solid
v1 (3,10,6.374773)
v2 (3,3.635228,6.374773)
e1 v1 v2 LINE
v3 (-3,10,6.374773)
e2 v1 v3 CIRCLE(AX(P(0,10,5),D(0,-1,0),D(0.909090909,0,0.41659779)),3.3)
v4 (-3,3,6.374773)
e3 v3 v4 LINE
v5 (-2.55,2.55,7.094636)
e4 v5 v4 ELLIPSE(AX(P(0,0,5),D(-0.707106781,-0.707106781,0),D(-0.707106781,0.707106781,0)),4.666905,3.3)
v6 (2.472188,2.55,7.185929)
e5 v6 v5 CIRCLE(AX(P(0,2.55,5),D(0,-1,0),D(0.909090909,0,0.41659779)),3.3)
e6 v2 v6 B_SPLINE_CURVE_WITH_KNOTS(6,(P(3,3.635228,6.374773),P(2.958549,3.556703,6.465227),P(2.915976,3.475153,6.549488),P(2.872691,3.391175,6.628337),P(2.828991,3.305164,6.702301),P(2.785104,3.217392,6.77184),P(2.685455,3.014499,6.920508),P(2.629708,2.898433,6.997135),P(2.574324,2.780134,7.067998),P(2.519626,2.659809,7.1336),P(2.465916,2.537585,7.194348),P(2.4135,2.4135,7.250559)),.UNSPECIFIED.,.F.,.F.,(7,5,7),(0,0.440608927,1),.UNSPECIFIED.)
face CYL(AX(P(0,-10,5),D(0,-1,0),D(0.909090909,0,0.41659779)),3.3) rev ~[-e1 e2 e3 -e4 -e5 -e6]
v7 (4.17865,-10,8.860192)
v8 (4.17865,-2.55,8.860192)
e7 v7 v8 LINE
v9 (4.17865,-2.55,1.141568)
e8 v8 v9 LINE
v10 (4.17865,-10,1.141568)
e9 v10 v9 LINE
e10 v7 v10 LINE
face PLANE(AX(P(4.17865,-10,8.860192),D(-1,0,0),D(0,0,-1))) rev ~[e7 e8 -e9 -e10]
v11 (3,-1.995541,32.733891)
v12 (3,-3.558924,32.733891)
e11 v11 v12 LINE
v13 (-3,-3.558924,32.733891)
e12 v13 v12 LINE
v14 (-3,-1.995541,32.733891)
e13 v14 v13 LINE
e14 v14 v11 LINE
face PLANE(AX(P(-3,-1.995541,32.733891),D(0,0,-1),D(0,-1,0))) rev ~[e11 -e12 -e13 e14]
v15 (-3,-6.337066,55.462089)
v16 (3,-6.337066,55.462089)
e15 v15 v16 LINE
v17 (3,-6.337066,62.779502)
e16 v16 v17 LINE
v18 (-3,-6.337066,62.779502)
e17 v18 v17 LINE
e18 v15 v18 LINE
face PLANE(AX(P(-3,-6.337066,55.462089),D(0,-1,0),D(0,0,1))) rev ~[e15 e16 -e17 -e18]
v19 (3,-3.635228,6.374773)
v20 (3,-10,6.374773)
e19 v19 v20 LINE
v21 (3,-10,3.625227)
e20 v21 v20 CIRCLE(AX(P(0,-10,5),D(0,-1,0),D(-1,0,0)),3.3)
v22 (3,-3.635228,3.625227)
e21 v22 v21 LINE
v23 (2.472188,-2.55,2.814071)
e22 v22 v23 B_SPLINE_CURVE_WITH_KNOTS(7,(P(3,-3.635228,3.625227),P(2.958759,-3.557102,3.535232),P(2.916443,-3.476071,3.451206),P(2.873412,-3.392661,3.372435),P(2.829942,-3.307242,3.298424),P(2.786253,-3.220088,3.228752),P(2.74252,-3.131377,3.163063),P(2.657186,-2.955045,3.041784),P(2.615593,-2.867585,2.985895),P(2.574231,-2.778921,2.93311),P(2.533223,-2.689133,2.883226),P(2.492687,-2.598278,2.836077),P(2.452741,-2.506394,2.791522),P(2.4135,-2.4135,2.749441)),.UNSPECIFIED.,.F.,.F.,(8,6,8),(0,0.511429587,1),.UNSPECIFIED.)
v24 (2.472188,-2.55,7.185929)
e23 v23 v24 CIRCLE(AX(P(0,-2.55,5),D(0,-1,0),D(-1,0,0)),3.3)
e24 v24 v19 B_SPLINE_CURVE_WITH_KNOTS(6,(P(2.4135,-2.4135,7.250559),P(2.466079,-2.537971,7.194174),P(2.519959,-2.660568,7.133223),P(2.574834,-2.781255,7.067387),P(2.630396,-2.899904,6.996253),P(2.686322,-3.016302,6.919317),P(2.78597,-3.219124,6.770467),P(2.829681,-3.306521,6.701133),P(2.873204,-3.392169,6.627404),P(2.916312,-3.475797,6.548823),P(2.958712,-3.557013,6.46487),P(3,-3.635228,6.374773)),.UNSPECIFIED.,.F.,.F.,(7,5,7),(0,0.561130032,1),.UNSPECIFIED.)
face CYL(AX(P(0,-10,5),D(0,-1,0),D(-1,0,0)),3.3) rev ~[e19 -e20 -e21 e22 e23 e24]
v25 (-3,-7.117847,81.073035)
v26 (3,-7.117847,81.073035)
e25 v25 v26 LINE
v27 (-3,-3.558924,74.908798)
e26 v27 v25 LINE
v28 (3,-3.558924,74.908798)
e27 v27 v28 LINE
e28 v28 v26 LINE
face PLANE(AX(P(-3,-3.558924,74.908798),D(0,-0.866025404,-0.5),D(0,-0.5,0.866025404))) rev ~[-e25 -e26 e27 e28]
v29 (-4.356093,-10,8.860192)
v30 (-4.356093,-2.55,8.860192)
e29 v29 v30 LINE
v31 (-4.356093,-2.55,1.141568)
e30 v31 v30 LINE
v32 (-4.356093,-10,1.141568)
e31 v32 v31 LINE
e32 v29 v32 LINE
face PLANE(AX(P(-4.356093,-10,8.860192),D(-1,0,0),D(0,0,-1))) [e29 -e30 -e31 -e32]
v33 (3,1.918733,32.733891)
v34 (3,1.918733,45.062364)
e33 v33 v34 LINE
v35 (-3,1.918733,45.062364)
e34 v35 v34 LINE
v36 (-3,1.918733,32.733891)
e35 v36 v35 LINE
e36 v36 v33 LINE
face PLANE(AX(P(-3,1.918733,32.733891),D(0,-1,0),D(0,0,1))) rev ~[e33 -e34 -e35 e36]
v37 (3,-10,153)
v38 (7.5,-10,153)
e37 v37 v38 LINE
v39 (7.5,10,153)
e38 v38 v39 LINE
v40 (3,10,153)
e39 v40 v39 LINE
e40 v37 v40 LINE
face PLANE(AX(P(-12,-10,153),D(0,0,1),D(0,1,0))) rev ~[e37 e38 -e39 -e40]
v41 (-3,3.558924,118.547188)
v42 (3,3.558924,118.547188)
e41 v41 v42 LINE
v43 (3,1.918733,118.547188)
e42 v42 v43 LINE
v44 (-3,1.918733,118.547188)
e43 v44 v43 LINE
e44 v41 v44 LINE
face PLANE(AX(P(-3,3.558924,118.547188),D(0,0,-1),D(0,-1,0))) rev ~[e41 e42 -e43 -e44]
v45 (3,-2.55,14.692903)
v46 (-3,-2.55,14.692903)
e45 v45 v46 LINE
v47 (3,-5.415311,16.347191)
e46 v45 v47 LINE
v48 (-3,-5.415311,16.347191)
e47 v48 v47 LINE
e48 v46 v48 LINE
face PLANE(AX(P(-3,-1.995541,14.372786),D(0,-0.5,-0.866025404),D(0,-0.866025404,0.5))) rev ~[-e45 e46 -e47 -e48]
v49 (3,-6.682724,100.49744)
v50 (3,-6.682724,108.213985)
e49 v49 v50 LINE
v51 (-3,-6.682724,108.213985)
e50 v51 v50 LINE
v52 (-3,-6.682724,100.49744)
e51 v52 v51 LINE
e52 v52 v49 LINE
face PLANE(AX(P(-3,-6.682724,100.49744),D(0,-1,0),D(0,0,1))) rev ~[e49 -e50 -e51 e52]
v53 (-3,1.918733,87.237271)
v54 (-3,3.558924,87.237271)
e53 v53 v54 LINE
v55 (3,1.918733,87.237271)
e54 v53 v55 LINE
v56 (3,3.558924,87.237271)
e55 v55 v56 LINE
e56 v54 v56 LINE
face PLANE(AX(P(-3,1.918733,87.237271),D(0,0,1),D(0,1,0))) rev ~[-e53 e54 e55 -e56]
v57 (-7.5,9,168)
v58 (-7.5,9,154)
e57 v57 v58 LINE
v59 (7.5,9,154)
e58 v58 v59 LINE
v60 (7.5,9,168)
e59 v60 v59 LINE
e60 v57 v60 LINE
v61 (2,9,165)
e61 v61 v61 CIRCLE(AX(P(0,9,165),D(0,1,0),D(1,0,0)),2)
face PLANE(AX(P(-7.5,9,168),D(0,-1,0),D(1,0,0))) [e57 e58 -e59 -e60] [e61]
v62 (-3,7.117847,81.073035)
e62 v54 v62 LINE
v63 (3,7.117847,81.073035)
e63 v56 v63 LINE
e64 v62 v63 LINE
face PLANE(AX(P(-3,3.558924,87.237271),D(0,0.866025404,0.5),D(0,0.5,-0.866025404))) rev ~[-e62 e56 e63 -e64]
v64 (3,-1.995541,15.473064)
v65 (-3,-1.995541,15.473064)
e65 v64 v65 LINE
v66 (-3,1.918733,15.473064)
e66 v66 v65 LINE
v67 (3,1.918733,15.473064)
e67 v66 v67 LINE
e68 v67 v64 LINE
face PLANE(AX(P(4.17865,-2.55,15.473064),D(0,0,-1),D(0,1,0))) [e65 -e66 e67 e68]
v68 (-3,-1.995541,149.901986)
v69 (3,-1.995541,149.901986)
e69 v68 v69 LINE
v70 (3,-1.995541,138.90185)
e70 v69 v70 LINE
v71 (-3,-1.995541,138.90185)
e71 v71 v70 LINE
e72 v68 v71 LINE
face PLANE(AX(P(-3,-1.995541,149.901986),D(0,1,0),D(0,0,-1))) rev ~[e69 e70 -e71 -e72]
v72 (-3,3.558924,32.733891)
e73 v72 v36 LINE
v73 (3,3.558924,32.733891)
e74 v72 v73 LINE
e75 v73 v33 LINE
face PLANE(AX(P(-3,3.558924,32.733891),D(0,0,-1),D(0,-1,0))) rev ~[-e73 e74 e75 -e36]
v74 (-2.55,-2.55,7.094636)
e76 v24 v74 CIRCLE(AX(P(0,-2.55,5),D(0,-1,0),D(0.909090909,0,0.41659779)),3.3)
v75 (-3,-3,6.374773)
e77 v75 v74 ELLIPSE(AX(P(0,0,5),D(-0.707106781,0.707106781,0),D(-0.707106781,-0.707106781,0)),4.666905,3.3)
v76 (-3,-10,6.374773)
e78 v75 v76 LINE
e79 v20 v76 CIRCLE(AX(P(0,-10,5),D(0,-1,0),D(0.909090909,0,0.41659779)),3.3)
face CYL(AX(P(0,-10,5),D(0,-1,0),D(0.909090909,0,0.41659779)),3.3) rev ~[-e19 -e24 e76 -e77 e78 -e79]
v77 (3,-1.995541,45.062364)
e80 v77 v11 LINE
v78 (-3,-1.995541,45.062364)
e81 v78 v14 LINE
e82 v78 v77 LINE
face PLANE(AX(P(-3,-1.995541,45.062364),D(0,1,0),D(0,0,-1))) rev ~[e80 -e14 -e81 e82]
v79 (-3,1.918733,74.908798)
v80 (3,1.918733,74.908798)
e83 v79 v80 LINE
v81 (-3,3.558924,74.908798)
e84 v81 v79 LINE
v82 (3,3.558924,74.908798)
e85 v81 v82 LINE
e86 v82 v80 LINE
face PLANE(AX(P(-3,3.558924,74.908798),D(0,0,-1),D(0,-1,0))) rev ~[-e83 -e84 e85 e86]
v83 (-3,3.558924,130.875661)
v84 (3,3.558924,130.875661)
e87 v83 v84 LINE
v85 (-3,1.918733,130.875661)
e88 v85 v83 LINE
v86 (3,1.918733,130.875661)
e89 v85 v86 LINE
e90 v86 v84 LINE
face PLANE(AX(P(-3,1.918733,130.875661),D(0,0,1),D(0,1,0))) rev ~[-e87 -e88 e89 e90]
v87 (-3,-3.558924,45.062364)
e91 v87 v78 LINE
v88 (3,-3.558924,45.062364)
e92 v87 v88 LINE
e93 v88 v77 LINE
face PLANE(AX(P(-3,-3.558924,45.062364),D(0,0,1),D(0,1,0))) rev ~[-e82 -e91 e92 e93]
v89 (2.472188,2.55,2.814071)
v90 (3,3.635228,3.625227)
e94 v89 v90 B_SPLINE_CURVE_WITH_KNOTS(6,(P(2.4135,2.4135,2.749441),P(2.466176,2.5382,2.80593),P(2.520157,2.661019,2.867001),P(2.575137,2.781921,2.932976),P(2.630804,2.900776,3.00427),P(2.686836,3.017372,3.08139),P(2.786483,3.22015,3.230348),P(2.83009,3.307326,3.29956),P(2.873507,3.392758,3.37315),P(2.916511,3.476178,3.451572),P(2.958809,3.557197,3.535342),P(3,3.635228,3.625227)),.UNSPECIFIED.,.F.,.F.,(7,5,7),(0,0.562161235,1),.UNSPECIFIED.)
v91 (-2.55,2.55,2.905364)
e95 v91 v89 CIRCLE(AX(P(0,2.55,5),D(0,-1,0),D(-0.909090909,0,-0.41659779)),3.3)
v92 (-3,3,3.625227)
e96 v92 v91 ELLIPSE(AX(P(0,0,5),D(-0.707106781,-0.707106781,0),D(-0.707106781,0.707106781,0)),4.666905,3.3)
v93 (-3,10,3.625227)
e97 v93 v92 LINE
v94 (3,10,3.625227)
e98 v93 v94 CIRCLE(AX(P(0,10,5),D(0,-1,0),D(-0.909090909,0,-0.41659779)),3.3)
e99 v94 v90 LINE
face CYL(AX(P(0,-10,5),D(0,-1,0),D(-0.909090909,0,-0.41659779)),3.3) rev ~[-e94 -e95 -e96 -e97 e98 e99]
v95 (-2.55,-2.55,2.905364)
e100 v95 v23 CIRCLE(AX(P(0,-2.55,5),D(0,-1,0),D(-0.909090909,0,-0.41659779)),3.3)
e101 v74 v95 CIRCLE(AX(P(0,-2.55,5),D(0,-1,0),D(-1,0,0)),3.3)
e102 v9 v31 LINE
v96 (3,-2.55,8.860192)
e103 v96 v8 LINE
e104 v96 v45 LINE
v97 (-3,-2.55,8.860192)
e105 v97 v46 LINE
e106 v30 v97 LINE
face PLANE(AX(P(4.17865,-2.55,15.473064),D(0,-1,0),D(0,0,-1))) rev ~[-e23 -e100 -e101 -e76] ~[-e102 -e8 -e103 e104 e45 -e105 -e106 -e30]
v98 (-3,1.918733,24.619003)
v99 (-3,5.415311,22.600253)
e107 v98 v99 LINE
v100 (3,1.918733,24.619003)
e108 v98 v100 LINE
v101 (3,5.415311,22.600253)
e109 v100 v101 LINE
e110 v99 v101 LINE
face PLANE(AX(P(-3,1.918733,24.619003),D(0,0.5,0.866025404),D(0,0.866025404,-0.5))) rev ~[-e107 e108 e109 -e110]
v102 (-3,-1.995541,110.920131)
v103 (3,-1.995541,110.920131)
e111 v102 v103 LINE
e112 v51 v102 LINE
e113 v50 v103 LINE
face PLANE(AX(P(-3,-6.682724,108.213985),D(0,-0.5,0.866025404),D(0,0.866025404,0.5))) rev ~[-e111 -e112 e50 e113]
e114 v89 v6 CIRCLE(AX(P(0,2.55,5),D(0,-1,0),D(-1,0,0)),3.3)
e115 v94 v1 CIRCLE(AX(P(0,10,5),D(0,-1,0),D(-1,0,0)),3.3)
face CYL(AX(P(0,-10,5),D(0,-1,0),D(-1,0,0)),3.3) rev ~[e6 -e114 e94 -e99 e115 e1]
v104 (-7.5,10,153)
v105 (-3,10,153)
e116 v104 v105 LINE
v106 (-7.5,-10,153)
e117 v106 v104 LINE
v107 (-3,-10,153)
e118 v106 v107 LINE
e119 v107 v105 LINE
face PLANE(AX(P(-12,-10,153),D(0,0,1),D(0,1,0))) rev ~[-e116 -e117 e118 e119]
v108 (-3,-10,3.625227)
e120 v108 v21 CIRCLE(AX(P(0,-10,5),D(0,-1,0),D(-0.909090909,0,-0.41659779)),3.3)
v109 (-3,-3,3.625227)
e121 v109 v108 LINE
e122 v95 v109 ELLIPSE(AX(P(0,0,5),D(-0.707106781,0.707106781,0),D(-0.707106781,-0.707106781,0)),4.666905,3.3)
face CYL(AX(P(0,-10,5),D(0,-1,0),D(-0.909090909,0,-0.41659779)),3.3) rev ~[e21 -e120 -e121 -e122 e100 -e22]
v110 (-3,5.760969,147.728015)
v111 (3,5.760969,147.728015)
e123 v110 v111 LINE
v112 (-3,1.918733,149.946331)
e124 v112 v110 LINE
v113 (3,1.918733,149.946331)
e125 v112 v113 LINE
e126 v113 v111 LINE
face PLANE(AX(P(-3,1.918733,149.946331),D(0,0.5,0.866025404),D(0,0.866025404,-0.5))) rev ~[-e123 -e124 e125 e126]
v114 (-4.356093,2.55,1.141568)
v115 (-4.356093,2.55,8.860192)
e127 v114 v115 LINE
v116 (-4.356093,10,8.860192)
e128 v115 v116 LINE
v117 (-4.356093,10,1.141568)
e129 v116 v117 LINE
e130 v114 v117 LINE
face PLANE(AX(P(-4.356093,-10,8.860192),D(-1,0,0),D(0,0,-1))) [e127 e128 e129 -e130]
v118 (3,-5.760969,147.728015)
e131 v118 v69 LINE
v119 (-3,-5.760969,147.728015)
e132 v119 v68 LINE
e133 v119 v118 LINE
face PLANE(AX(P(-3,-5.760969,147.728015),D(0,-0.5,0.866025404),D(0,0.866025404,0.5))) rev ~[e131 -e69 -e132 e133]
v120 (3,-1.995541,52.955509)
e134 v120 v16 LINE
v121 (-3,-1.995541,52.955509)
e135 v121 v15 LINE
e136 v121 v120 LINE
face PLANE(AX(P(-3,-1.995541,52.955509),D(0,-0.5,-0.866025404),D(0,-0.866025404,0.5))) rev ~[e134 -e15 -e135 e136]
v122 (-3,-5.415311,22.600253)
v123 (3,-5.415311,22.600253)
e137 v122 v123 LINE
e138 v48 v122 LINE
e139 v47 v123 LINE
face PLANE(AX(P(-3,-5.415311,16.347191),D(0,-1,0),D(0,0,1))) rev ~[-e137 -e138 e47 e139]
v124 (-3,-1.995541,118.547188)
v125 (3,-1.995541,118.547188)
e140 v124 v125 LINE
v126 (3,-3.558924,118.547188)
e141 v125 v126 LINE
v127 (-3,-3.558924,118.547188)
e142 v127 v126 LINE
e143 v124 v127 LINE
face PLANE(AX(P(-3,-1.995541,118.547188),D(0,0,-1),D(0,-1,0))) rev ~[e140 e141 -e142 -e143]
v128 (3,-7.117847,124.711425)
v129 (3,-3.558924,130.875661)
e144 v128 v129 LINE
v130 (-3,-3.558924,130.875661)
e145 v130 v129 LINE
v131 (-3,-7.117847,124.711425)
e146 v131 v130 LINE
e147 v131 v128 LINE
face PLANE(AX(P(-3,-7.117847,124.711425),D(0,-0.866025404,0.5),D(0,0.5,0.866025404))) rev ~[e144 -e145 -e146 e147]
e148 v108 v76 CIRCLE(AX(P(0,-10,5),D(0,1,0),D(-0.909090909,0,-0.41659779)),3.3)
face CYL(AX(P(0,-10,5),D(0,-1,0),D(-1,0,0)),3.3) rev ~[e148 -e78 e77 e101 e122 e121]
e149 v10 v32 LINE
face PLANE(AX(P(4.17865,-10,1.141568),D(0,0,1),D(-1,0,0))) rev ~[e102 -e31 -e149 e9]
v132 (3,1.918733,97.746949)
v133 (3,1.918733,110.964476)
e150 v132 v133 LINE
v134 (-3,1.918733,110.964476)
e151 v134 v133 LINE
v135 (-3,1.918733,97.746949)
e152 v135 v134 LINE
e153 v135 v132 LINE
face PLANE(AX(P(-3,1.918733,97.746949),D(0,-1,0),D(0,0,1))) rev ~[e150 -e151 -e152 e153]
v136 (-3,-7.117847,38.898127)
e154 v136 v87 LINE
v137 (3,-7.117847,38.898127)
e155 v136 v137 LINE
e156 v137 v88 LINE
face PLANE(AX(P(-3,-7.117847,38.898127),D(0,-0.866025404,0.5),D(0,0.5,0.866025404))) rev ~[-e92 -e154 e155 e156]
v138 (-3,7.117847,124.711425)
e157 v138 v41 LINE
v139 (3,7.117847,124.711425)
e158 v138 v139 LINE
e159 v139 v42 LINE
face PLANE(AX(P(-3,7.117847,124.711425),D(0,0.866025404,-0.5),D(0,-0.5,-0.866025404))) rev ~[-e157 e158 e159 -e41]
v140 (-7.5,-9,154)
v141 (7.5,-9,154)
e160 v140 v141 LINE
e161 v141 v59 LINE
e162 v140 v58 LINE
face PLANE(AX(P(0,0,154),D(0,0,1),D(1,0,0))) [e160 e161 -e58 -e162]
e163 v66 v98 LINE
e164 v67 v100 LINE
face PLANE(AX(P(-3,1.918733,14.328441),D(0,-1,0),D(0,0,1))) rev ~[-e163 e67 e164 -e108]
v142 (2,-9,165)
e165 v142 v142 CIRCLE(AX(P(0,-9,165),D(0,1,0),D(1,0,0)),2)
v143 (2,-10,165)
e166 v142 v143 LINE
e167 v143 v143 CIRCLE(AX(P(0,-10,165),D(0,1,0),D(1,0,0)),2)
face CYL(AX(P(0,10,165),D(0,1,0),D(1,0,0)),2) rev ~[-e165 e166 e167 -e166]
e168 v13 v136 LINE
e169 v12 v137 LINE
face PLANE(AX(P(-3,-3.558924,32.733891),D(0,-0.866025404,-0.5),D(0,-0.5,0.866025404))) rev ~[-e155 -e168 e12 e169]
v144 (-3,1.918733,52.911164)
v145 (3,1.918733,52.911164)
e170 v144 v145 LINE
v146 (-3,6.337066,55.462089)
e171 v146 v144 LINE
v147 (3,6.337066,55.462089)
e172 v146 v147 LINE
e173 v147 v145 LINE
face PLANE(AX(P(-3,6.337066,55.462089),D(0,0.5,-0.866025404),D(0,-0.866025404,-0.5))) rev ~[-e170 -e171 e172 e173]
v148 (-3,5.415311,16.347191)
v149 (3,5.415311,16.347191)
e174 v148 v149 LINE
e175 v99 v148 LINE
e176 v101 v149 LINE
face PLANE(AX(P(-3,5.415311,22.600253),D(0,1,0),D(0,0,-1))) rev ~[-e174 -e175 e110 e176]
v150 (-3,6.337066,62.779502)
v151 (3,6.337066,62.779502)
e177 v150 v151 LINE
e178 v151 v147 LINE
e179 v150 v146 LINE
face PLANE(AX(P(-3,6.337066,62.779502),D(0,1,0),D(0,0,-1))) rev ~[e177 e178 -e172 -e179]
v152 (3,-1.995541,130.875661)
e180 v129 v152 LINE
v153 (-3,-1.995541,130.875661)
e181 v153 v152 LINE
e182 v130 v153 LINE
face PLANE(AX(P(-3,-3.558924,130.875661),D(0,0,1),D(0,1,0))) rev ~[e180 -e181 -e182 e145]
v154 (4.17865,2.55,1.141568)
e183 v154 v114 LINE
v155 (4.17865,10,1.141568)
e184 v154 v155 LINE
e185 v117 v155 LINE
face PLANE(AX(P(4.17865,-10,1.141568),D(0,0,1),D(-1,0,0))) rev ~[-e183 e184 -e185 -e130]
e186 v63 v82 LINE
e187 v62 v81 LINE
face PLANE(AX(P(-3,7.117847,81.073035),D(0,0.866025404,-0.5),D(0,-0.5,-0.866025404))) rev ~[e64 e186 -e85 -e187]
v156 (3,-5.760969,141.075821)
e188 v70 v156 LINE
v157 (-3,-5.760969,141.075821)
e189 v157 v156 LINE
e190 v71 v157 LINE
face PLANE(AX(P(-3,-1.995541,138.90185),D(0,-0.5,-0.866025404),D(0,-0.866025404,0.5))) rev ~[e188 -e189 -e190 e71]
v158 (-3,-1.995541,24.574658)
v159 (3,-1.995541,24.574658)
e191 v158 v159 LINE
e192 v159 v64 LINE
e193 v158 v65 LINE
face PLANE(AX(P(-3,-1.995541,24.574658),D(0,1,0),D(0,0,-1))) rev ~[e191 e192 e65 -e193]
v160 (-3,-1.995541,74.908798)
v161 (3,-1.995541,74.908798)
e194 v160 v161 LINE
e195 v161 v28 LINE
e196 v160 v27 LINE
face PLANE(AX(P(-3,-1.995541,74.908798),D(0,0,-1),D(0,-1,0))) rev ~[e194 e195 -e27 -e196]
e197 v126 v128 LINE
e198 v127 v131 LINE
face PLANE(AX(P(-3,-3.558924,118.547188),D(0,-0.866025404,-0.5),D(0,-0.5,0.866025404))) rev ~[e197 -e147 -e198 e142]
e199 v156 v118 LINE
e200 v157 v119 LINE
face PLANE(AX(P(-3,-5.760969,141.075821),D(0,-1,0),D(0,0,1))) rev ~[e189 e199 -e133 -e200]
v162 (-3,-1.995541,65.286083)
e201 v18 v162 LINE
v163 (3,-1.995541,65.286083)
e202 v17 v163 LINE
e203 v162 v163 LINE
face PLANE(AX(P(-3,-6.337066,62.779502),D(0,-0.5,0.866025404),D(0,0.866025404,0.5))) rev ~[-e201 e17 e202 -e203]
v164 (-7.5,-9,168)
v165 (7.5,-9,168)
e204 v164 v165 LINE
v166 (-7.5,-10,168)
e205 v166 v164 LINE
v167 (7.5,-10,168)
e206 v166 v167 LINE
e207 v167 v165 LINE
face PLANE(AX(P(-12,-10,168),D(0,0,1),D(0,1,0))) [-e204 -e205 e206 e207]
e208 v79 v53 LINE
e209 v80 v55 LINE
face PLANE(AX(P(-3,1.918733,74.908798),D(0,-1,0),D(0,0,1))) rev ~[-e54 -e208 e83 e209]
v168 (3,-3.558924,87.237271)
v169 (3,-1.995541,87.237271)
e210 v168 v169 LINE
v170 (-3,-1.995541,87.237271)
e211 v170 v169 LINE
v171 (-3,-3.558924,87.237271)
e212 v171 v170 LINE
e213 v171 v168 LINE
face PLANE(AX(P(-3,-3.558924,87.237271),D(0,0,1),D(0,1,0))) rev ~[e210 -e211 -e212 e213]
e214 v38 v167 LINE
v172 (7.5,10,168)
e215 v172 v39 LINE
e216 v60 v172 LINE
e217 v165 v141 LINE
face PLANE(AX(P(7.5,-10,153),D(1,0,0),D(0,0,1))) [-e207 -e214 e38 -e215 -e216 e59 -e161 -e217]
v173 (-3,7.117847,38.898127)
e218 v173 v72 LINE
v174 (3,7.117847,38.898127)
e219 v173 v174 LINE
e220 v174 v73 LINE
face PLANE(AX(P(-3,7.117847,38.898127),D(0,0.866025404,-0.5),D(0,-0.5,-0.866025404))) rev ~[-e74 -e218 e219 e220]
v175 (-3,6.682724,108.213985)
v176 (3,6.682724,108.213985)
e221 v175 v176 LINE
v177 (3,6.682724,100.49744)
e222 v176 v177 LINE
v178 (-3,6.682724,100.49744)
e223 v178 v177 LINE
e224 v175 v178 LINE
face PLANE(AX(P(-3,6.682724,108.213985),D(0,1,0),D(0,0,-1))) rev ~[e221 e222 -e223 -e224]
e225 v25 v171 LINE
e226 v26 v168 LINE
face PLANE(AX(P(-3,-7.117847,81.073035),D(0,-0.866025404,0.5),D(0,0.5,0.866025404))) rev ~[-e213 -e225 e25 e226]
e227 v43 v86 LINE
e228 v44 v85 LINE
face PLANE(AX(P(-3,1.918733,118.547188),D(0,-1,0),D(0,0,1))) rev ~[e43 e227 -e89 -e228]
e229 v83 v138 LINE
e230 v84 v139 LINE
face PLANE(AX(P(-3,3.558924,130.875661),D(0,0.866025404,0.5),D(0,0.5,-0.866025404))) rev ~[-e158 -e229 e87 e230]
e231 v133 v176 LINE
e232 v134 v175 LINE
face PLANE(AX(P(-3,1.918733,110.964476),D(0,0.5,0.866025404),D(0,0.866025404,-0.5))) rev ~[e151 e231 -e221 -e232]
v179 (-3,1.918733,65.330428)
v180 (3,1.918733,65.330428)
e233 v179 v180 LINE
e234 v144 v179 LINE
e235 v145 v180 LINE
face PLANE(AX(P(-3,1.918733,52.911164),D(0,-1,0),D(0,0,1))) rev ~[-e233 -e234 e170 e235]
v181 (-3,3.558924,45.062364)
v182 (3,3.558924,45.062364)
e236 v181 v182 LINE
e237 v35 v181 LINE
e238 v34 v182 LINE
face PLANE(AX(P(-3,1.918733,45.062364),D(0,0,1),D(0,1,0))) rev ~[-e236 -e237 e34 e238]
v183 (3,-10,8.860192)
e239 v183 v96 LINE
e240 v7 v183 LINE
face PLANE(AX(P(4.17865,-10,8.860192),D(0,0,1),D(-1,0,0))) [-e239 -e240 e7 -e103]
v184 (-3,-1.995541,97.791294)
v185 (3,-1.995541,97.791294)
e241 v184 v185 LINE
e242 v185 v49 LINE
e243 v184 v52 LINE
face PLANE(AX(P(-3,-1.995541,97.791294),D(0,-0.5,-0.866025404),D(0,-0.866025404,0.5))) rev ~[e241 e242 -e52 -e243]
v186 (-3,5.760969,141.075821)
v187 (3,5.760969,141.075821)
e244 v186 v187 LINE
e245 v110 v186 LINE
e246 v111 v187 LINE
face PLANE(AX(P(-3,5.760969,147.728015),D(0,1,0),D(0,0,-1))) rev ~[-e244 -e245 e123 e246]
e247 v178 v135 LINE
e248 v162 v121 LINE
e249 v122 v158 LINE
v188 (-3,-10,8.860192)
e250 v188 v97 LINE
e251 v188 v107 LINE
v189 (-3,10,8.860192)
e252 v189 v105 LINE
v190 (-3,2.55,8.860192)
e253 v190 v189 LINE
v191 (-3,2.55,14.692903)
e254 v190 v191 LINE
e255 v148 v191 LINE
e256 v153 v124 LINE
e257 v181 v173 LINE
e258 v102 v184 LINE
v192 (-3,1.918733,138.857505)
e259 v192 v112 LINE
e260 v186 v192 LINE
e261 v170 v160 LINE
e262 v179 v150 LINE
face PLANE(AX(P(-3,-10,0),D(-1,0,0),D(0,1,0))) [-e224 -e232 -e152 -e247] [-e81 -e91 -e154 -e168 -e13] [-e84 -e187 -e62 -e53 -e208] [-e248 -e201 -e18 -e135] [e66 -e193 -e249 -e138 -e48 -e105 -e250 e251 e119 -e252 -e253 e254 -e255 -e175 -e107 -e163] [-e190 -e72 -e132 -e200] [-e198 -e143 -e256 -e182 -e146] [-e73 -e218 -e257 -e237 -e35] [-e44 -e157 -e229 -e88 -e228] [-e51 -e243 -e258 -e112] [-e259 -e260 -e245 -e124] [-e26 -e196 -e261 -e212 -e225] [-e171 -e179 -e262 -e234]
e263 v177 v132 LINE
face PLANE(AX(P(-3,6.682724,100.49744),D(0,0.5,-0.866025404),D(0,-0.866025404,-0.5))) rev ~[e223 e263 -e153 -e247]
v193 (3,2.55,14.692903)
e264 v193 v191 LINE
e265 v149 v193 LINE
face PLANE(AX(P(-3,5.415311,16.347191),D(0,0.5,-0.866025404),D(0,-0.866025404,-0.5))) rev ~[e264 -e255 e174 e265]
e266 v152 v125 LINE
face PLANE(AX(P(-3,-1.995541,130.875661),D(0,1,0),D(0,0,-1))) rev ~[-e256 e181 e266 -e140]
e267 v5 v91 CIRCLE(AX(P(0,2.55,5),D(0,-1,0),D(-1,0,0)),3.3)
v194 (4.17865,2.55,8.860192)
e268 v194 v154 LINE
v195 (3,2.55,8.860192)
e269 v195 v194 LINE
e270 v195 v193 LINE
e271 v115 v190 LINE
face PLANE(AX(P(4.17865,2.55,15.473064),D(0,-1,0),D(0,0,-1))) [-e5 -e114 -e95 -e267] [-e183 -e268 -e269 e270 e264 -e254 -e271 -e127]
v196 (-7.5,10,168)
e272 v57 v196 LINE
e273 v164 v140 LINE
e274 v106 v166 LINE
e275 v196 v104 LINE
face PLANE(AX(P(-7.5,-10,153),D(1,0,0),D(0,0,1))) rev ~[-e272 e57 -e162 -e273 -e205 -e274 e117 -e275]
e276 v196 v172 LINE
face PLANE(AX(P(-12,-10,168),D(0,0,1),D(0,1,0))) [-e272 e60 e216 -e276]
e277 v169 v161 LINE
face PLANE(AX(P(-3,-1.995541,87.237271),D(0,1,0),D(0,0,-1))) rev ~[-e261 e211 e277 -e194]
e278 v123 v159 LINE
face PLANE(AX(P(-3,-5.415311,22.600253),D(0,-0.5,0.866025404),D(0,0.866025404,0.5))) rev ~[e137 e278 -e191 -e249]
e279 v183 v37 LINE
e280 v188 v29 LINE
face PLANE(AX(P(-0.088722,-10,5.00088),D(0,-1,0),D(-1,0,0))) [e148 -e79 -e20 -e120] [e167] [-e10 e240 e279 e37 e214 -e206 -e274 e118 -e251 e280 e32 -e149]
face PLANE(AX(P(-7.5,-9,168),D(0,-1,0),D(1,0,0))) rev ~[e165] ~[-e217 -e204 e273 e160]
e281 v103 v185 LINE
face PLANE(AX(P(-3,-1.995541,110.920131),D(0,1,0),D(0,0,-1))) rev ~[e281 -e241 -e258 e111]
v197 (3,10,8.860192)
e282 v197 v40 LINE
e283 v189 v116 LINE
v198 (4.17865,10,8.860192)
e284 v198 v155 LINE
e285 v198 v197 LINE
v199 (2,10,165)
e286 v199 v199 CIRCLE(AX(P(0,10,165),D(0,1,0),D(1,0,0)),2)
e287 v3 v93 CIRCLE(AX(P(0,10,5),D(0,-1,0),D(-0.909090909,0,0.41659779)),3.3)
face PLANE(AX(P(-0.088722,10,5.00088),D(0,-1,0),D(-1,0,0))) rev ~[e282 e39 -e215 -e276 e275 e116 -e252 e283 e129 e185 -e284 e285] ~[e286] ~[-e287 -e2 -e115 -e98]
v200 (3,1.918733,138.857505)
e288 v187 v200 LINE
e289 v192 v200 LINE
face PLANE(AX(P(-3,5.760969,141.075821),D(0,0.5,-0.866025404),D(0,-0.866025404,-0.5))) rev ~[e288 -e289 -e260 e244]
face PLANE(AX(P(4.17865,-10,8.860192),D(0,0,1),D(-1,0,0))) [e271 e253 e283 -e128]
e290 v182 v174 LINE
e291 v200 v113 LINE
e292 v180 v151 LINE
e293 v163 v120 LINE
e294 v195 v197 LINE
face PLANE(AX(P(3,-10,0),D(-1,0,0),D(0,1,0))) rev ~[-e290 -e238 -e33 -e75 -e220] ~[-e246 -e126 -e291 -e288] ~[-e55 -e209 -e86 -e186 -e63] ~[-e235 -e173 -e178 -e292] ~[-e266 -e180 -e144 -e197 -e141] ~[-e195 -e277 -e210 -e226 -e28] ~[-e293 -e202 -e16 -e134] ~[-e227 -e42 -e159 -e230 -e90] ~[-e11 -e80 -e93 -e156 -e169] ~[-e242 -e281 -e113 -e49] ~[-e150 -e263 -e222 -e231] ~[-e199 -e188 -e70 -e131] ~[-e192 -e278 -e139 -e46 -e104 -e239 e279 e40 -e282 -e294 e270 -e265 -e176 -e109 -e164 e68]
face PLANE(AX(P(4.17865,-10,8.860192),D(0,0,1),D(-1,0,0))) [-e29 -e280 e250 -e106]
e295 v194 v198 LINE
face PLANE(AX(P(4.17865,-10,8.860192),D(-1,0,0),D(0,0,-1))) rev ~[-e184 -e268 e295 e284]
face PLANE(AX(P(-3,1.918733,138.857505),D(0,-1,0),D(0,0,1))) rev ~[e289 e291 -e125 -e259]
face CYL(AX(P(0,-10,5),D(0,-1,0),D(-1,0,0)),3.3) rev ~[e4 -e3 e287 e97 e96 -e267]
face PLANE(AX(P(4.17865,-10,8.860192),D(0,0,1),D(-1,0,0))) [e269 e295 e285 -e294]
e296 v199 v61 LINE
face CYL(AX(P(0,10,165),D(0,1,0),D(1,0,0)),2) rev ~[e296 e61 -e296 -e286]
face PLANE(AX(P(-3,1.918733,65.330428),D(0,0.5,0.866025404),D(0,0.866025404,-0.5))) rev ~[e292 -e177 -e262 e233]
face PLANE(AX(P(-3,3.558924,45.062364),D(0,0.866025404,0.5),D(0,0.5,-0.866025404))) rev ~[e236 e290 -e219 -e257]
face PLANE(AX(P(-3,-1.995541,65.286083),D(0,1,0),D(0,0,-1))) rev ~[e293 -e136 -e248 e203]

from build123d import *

# Parameters (mm, degrees)
SKETCH_1_W                      = 6
SKETCH_1_H                      = 20
EXTRUDE_1_DEPTH                 = 165
HOLE_WIZARD_G1_16_1_D           = 6.6
HOLE_WIZARD_G1_16_1_DEPTH       = 50
HOLE_WIZARD_G1_16_1_CSINK_D     = 7.773
HOLE_WIZARD_G1_16_1_CSINK_ANGLE = 90
HOLE_WIZARD_G1_16_1_TIP         = 1.982840043
EXTRUDE_2_DEPTH                 = 10
EXTRUDE_2_DEPTH_BACK            = 15
SKETCH_5_W                      = 15
SKETCH_5_H                      = 20
SKETCH_6_W                      = 4.5
SKETCH_6_H                      = 15
SKETCH_6_W_2                    = 5.5
CUT_EXTRUDE_1_DEPTH             = 32
SKETCH_7_W                      = 15
SKETCH_7_H                      = 18
CUT_EXTRUDE_2_DEPTH             = 14
SKETCH_8_R                      = 2
CUT_EXTRUDE_3_DEPTH             = 39
CUT_EXTRUDE_4_DEPTH             = 70
SKETCH_11_W                     = 8.534743408
SKETCH_11_H                     = 7.718624342
SKETCH_11_R                     = 3.3
EXTRUDE_3_DEPTH                 = 20
SKETCH_11_5_W                   = 6
SKETCH_11_5_H                   = 1.141567996
CUT_EXTRUDE_5_DEPTH             = 20
SKETCH_13_W                     = 14.331495705
SKETCH_13_H                     = 5.1
CUT_EXTRUDE_6_DEPTH             = 20


with BuildPart() as part:
    # 草图1 → 凸台-拉伸1 (new body)
    with BuildSketch(Plane.XY):
        Rectangle(SKETCH_1_W, SKETCH_1_H)
    extrude(amount=EXTRUDE_1_DEPTH)

    # G1/16 螺纹孔1
    with Locations(Plane(origin=(3, 0, 0), x_dir=(0, 0, -1), z_dir=(1, 0, 0))):
        with Locations((-5, 0)):
            CounterSinkHole(HOLE_WIZARD_G1_16_1_D / 2, HOLE_WIZARD_G1_16_1_CSINK_D / 2, depth=HOLE_WIZARD_G1_16_1_DEPTH, counter_sink_angle=HOLE_WIZARD_G1_16_1_CSINK_ANGLE)
            with Locations((0, 0, -(HOLE_WIZARD_G1_16_1_DEPTH + HOLE_WIZARD_G1_16_1_TIP / 2))):  # 118° drill point
                Cone(0, HOLE_WIZARD_G1_16_1_D / 2, HOLE_WIZARD_G1_16_1_TIP, mode=Mode.SUBTRACT)

    # 草图5 → 凸台-拉伸2 (add, two sides: drawn at the far end of the back side and taken through both)
    with BuildSketch(Plane(origin=(3, 0, 0), x_dir=(0, 0, -1), z_dir=(1, 0, 0)).offset(-EXTRUDE_2_DEPTH_BACK)):
        with Locations((-160.5, 0)):
            Rectangle(SKETCH_5_W, SKETCH_5_H)
    extrude(amount=EXTRUDE_2_DEPTH + EXTRUDE_2_DEPTH_BACK)

    # 草图6 → 切除-拉伸1 (cut)
    with BuildSketch(Plane.XZ.offset(10)):
        with Locations((-9.75, 160.5)):
            Rectangle(SKETCH_6_W, SKETCH_6_H)
        with Locations((10.25, 160.5)):
            Rectangle(SKETCH_6_W_2, SKETCH_6_H)
    extrude(amount=-CUT_EXTRUDE_1_DEPTH, mode=Mode.SUBTRACT)

    # 草图7 → 切除-拉伸2 (cut)
    with BuildSketch(Plane.XY.offset(168)):
        Rectangle(SKETCH_7_W, SKETCH_7_H)
    extrude(amount=-CUT_EXTRUDE_2_DEPTH, mode=Mode.SUBTRACT)

    # 草图8 → 切除-拉伸3 (cut)
    with BuildSketch(Plane(origin=(0, 10, 0), x_dir=(1, 0, 0), z_dir=(0, 1, 0))):
        with Locations((0, -165)):
            Circle(SKETCH_8_R)
    extrude(amount=-CUT_EXTRUDE_3_DEPTH, mode=Mode.SUBTRACT)

    # 草图9 → 切除-拉伸4 (cut)
    with BuildSketch(Plane.ZY.offset(3)):
        Polygon((138.857505266, 1.918732887), (149.946330576, 1.918732887), (147.728014723, 5.760968652), (141.075821119, 5.760968652), align=None)
        Polygon((147.728014723, -5.760968652), (149.901985563, -1.995540703), (138.901850279, -1.995540703), (141.075821119, -5.760968652), align=None)
        Polygon((118.547188397, 1.918732887), (130.875661312, 1.918732887), (130.875661312, 3.558923578), (124.711424854, 7.117847156), (118.547188397, 3.558923578), align=None)
        Polygon((130.875661312, -3.558923578), (130.875661312, -1.995540703), (118.547188397, -1.995540703), (118.547188397, -3.558923578), (124.711424854, -7.117847156), align=None)
        Polygon((97.746948796, 1.918732887), (110.964476059, 1.918732887), (108.213984717, 6.682723636), (100.497440137, 6.682723636), align=None)
        Polygon((108.213984717, -6.682723636), (110.920131045, -1.995540703), (97.791293809, -1.995540703), (100.497440137, -6.682723636), align=None)
        Polygon((74.908798357, 1.918732887), (87.237271272, 1.918732887), (87.237271272, 3.558923578), (81.073034814, 7.117847156), (74.908798357, 3.558923578), align=None)
        Polygon((87.237271272, -3.558923578), (87.237271272, -1.995540703), (74.908798357, -1.995540703), (74.908798357, -3.558923578), (81.073034814, -7.117847156), align=None)
        Polygon((52.911163907, 1.918732887), (65.330427938, 1.918732887), (62.779502404, 6.337065517), (55.46208944, 6.337065517), align=None)
        Polygon((62.779502404, -6.337065517), (65.286082924, -1.995540703), (52.95550892, -1.995540703), (55.46208944, -6.337065517), align=None)
        Polygon((32.73389091, 1.918732887), (45.062363825, 1.918732887), (45.062363825, 3.558923578), (38.898127367, 7.117847156), (32.73389091, 3.558923578), align=None)
        Polygon((45.062363825, -3.558923578), (45.062363825, -1.995540703), (32.73389091, -1.995540703), (32.73389091, -3.558923578), (38.898127367, -7.117847156), align=None)
        Polygon((14.328441006, 1.918732887), (24.619003084, 1.918732887), (22.600253038, 5.415310533), (16.347191051, 5.415310533), align=None)
        Polygon((22.600253038, -5.415310533), (24.57465807, -1.995540703), (14.372786019, -1.995540703), (16.347191051, -5.415310533), align=None)
    extrude(amount=-CUT_EXTRUDE_4_DEPTH, mode=Mode.SUBTRACT)

    # 草图11 → 凸台-拉伸3 (add)
    with BuildSketch(Plane(origin=(0, -10, 0), x_dir=(-1, 0, 0), z_dir=(0, -1, 0))):
        with Locations((0.088721547, -5.000880167)):
            Rectangle(SKETCH_11_W, SKETCH_11_H)
        with Locations((0, -5)):
            Circle(SKETCH_11_R, mode=Mode.SUBTRACT)
    extrude(amount=-EXTRUDE_3_DEPTH)

    # 草图11<5> → 切除-拉伸5 (cut)
    with BuildSketch(Plane(origin=(0, -10, 0), x_dir=(-1, 0, 0), z_dir=(0, -1, 0))):
        with Locations((0, -0.570783998)):
            Rectangle(SKETCH_11_5_W, SKETCH_11_5_H)
        with BuildLine():
            Line((3, -6.374772708), (3, -3.625227292))
            ThreePointArc((3, -3.625227292), (0, -1.7), (-3, -3.625227292))
            Line((-3, -3.625227292), (-3, -6.374772708))
            ThreePointArc((-3, -6.374772708), (0, -8.3), (3, -6.374772708))
        make_face()
    extrude(amount=-CUT_EXTRUDE_5_DEPTH, mode=Mode.SUBTRACT)

    # 草图13 → 切除-拉伸6 (cut)
    with BuildSketch(Plane(origin=(4.178650157, 0, 0), x_dir=(0, 0, -1), z_dir=(1, 0, 0))):
        with Locations((-8.307315849, 0)):
            Rectangle(SKETCH_13_W, SKETCH_13_H)
    extrude(amount=-CUT_EXTRUDE_6_DEPTH, mode=Mode.SUBTRACT)


solid = part.part
